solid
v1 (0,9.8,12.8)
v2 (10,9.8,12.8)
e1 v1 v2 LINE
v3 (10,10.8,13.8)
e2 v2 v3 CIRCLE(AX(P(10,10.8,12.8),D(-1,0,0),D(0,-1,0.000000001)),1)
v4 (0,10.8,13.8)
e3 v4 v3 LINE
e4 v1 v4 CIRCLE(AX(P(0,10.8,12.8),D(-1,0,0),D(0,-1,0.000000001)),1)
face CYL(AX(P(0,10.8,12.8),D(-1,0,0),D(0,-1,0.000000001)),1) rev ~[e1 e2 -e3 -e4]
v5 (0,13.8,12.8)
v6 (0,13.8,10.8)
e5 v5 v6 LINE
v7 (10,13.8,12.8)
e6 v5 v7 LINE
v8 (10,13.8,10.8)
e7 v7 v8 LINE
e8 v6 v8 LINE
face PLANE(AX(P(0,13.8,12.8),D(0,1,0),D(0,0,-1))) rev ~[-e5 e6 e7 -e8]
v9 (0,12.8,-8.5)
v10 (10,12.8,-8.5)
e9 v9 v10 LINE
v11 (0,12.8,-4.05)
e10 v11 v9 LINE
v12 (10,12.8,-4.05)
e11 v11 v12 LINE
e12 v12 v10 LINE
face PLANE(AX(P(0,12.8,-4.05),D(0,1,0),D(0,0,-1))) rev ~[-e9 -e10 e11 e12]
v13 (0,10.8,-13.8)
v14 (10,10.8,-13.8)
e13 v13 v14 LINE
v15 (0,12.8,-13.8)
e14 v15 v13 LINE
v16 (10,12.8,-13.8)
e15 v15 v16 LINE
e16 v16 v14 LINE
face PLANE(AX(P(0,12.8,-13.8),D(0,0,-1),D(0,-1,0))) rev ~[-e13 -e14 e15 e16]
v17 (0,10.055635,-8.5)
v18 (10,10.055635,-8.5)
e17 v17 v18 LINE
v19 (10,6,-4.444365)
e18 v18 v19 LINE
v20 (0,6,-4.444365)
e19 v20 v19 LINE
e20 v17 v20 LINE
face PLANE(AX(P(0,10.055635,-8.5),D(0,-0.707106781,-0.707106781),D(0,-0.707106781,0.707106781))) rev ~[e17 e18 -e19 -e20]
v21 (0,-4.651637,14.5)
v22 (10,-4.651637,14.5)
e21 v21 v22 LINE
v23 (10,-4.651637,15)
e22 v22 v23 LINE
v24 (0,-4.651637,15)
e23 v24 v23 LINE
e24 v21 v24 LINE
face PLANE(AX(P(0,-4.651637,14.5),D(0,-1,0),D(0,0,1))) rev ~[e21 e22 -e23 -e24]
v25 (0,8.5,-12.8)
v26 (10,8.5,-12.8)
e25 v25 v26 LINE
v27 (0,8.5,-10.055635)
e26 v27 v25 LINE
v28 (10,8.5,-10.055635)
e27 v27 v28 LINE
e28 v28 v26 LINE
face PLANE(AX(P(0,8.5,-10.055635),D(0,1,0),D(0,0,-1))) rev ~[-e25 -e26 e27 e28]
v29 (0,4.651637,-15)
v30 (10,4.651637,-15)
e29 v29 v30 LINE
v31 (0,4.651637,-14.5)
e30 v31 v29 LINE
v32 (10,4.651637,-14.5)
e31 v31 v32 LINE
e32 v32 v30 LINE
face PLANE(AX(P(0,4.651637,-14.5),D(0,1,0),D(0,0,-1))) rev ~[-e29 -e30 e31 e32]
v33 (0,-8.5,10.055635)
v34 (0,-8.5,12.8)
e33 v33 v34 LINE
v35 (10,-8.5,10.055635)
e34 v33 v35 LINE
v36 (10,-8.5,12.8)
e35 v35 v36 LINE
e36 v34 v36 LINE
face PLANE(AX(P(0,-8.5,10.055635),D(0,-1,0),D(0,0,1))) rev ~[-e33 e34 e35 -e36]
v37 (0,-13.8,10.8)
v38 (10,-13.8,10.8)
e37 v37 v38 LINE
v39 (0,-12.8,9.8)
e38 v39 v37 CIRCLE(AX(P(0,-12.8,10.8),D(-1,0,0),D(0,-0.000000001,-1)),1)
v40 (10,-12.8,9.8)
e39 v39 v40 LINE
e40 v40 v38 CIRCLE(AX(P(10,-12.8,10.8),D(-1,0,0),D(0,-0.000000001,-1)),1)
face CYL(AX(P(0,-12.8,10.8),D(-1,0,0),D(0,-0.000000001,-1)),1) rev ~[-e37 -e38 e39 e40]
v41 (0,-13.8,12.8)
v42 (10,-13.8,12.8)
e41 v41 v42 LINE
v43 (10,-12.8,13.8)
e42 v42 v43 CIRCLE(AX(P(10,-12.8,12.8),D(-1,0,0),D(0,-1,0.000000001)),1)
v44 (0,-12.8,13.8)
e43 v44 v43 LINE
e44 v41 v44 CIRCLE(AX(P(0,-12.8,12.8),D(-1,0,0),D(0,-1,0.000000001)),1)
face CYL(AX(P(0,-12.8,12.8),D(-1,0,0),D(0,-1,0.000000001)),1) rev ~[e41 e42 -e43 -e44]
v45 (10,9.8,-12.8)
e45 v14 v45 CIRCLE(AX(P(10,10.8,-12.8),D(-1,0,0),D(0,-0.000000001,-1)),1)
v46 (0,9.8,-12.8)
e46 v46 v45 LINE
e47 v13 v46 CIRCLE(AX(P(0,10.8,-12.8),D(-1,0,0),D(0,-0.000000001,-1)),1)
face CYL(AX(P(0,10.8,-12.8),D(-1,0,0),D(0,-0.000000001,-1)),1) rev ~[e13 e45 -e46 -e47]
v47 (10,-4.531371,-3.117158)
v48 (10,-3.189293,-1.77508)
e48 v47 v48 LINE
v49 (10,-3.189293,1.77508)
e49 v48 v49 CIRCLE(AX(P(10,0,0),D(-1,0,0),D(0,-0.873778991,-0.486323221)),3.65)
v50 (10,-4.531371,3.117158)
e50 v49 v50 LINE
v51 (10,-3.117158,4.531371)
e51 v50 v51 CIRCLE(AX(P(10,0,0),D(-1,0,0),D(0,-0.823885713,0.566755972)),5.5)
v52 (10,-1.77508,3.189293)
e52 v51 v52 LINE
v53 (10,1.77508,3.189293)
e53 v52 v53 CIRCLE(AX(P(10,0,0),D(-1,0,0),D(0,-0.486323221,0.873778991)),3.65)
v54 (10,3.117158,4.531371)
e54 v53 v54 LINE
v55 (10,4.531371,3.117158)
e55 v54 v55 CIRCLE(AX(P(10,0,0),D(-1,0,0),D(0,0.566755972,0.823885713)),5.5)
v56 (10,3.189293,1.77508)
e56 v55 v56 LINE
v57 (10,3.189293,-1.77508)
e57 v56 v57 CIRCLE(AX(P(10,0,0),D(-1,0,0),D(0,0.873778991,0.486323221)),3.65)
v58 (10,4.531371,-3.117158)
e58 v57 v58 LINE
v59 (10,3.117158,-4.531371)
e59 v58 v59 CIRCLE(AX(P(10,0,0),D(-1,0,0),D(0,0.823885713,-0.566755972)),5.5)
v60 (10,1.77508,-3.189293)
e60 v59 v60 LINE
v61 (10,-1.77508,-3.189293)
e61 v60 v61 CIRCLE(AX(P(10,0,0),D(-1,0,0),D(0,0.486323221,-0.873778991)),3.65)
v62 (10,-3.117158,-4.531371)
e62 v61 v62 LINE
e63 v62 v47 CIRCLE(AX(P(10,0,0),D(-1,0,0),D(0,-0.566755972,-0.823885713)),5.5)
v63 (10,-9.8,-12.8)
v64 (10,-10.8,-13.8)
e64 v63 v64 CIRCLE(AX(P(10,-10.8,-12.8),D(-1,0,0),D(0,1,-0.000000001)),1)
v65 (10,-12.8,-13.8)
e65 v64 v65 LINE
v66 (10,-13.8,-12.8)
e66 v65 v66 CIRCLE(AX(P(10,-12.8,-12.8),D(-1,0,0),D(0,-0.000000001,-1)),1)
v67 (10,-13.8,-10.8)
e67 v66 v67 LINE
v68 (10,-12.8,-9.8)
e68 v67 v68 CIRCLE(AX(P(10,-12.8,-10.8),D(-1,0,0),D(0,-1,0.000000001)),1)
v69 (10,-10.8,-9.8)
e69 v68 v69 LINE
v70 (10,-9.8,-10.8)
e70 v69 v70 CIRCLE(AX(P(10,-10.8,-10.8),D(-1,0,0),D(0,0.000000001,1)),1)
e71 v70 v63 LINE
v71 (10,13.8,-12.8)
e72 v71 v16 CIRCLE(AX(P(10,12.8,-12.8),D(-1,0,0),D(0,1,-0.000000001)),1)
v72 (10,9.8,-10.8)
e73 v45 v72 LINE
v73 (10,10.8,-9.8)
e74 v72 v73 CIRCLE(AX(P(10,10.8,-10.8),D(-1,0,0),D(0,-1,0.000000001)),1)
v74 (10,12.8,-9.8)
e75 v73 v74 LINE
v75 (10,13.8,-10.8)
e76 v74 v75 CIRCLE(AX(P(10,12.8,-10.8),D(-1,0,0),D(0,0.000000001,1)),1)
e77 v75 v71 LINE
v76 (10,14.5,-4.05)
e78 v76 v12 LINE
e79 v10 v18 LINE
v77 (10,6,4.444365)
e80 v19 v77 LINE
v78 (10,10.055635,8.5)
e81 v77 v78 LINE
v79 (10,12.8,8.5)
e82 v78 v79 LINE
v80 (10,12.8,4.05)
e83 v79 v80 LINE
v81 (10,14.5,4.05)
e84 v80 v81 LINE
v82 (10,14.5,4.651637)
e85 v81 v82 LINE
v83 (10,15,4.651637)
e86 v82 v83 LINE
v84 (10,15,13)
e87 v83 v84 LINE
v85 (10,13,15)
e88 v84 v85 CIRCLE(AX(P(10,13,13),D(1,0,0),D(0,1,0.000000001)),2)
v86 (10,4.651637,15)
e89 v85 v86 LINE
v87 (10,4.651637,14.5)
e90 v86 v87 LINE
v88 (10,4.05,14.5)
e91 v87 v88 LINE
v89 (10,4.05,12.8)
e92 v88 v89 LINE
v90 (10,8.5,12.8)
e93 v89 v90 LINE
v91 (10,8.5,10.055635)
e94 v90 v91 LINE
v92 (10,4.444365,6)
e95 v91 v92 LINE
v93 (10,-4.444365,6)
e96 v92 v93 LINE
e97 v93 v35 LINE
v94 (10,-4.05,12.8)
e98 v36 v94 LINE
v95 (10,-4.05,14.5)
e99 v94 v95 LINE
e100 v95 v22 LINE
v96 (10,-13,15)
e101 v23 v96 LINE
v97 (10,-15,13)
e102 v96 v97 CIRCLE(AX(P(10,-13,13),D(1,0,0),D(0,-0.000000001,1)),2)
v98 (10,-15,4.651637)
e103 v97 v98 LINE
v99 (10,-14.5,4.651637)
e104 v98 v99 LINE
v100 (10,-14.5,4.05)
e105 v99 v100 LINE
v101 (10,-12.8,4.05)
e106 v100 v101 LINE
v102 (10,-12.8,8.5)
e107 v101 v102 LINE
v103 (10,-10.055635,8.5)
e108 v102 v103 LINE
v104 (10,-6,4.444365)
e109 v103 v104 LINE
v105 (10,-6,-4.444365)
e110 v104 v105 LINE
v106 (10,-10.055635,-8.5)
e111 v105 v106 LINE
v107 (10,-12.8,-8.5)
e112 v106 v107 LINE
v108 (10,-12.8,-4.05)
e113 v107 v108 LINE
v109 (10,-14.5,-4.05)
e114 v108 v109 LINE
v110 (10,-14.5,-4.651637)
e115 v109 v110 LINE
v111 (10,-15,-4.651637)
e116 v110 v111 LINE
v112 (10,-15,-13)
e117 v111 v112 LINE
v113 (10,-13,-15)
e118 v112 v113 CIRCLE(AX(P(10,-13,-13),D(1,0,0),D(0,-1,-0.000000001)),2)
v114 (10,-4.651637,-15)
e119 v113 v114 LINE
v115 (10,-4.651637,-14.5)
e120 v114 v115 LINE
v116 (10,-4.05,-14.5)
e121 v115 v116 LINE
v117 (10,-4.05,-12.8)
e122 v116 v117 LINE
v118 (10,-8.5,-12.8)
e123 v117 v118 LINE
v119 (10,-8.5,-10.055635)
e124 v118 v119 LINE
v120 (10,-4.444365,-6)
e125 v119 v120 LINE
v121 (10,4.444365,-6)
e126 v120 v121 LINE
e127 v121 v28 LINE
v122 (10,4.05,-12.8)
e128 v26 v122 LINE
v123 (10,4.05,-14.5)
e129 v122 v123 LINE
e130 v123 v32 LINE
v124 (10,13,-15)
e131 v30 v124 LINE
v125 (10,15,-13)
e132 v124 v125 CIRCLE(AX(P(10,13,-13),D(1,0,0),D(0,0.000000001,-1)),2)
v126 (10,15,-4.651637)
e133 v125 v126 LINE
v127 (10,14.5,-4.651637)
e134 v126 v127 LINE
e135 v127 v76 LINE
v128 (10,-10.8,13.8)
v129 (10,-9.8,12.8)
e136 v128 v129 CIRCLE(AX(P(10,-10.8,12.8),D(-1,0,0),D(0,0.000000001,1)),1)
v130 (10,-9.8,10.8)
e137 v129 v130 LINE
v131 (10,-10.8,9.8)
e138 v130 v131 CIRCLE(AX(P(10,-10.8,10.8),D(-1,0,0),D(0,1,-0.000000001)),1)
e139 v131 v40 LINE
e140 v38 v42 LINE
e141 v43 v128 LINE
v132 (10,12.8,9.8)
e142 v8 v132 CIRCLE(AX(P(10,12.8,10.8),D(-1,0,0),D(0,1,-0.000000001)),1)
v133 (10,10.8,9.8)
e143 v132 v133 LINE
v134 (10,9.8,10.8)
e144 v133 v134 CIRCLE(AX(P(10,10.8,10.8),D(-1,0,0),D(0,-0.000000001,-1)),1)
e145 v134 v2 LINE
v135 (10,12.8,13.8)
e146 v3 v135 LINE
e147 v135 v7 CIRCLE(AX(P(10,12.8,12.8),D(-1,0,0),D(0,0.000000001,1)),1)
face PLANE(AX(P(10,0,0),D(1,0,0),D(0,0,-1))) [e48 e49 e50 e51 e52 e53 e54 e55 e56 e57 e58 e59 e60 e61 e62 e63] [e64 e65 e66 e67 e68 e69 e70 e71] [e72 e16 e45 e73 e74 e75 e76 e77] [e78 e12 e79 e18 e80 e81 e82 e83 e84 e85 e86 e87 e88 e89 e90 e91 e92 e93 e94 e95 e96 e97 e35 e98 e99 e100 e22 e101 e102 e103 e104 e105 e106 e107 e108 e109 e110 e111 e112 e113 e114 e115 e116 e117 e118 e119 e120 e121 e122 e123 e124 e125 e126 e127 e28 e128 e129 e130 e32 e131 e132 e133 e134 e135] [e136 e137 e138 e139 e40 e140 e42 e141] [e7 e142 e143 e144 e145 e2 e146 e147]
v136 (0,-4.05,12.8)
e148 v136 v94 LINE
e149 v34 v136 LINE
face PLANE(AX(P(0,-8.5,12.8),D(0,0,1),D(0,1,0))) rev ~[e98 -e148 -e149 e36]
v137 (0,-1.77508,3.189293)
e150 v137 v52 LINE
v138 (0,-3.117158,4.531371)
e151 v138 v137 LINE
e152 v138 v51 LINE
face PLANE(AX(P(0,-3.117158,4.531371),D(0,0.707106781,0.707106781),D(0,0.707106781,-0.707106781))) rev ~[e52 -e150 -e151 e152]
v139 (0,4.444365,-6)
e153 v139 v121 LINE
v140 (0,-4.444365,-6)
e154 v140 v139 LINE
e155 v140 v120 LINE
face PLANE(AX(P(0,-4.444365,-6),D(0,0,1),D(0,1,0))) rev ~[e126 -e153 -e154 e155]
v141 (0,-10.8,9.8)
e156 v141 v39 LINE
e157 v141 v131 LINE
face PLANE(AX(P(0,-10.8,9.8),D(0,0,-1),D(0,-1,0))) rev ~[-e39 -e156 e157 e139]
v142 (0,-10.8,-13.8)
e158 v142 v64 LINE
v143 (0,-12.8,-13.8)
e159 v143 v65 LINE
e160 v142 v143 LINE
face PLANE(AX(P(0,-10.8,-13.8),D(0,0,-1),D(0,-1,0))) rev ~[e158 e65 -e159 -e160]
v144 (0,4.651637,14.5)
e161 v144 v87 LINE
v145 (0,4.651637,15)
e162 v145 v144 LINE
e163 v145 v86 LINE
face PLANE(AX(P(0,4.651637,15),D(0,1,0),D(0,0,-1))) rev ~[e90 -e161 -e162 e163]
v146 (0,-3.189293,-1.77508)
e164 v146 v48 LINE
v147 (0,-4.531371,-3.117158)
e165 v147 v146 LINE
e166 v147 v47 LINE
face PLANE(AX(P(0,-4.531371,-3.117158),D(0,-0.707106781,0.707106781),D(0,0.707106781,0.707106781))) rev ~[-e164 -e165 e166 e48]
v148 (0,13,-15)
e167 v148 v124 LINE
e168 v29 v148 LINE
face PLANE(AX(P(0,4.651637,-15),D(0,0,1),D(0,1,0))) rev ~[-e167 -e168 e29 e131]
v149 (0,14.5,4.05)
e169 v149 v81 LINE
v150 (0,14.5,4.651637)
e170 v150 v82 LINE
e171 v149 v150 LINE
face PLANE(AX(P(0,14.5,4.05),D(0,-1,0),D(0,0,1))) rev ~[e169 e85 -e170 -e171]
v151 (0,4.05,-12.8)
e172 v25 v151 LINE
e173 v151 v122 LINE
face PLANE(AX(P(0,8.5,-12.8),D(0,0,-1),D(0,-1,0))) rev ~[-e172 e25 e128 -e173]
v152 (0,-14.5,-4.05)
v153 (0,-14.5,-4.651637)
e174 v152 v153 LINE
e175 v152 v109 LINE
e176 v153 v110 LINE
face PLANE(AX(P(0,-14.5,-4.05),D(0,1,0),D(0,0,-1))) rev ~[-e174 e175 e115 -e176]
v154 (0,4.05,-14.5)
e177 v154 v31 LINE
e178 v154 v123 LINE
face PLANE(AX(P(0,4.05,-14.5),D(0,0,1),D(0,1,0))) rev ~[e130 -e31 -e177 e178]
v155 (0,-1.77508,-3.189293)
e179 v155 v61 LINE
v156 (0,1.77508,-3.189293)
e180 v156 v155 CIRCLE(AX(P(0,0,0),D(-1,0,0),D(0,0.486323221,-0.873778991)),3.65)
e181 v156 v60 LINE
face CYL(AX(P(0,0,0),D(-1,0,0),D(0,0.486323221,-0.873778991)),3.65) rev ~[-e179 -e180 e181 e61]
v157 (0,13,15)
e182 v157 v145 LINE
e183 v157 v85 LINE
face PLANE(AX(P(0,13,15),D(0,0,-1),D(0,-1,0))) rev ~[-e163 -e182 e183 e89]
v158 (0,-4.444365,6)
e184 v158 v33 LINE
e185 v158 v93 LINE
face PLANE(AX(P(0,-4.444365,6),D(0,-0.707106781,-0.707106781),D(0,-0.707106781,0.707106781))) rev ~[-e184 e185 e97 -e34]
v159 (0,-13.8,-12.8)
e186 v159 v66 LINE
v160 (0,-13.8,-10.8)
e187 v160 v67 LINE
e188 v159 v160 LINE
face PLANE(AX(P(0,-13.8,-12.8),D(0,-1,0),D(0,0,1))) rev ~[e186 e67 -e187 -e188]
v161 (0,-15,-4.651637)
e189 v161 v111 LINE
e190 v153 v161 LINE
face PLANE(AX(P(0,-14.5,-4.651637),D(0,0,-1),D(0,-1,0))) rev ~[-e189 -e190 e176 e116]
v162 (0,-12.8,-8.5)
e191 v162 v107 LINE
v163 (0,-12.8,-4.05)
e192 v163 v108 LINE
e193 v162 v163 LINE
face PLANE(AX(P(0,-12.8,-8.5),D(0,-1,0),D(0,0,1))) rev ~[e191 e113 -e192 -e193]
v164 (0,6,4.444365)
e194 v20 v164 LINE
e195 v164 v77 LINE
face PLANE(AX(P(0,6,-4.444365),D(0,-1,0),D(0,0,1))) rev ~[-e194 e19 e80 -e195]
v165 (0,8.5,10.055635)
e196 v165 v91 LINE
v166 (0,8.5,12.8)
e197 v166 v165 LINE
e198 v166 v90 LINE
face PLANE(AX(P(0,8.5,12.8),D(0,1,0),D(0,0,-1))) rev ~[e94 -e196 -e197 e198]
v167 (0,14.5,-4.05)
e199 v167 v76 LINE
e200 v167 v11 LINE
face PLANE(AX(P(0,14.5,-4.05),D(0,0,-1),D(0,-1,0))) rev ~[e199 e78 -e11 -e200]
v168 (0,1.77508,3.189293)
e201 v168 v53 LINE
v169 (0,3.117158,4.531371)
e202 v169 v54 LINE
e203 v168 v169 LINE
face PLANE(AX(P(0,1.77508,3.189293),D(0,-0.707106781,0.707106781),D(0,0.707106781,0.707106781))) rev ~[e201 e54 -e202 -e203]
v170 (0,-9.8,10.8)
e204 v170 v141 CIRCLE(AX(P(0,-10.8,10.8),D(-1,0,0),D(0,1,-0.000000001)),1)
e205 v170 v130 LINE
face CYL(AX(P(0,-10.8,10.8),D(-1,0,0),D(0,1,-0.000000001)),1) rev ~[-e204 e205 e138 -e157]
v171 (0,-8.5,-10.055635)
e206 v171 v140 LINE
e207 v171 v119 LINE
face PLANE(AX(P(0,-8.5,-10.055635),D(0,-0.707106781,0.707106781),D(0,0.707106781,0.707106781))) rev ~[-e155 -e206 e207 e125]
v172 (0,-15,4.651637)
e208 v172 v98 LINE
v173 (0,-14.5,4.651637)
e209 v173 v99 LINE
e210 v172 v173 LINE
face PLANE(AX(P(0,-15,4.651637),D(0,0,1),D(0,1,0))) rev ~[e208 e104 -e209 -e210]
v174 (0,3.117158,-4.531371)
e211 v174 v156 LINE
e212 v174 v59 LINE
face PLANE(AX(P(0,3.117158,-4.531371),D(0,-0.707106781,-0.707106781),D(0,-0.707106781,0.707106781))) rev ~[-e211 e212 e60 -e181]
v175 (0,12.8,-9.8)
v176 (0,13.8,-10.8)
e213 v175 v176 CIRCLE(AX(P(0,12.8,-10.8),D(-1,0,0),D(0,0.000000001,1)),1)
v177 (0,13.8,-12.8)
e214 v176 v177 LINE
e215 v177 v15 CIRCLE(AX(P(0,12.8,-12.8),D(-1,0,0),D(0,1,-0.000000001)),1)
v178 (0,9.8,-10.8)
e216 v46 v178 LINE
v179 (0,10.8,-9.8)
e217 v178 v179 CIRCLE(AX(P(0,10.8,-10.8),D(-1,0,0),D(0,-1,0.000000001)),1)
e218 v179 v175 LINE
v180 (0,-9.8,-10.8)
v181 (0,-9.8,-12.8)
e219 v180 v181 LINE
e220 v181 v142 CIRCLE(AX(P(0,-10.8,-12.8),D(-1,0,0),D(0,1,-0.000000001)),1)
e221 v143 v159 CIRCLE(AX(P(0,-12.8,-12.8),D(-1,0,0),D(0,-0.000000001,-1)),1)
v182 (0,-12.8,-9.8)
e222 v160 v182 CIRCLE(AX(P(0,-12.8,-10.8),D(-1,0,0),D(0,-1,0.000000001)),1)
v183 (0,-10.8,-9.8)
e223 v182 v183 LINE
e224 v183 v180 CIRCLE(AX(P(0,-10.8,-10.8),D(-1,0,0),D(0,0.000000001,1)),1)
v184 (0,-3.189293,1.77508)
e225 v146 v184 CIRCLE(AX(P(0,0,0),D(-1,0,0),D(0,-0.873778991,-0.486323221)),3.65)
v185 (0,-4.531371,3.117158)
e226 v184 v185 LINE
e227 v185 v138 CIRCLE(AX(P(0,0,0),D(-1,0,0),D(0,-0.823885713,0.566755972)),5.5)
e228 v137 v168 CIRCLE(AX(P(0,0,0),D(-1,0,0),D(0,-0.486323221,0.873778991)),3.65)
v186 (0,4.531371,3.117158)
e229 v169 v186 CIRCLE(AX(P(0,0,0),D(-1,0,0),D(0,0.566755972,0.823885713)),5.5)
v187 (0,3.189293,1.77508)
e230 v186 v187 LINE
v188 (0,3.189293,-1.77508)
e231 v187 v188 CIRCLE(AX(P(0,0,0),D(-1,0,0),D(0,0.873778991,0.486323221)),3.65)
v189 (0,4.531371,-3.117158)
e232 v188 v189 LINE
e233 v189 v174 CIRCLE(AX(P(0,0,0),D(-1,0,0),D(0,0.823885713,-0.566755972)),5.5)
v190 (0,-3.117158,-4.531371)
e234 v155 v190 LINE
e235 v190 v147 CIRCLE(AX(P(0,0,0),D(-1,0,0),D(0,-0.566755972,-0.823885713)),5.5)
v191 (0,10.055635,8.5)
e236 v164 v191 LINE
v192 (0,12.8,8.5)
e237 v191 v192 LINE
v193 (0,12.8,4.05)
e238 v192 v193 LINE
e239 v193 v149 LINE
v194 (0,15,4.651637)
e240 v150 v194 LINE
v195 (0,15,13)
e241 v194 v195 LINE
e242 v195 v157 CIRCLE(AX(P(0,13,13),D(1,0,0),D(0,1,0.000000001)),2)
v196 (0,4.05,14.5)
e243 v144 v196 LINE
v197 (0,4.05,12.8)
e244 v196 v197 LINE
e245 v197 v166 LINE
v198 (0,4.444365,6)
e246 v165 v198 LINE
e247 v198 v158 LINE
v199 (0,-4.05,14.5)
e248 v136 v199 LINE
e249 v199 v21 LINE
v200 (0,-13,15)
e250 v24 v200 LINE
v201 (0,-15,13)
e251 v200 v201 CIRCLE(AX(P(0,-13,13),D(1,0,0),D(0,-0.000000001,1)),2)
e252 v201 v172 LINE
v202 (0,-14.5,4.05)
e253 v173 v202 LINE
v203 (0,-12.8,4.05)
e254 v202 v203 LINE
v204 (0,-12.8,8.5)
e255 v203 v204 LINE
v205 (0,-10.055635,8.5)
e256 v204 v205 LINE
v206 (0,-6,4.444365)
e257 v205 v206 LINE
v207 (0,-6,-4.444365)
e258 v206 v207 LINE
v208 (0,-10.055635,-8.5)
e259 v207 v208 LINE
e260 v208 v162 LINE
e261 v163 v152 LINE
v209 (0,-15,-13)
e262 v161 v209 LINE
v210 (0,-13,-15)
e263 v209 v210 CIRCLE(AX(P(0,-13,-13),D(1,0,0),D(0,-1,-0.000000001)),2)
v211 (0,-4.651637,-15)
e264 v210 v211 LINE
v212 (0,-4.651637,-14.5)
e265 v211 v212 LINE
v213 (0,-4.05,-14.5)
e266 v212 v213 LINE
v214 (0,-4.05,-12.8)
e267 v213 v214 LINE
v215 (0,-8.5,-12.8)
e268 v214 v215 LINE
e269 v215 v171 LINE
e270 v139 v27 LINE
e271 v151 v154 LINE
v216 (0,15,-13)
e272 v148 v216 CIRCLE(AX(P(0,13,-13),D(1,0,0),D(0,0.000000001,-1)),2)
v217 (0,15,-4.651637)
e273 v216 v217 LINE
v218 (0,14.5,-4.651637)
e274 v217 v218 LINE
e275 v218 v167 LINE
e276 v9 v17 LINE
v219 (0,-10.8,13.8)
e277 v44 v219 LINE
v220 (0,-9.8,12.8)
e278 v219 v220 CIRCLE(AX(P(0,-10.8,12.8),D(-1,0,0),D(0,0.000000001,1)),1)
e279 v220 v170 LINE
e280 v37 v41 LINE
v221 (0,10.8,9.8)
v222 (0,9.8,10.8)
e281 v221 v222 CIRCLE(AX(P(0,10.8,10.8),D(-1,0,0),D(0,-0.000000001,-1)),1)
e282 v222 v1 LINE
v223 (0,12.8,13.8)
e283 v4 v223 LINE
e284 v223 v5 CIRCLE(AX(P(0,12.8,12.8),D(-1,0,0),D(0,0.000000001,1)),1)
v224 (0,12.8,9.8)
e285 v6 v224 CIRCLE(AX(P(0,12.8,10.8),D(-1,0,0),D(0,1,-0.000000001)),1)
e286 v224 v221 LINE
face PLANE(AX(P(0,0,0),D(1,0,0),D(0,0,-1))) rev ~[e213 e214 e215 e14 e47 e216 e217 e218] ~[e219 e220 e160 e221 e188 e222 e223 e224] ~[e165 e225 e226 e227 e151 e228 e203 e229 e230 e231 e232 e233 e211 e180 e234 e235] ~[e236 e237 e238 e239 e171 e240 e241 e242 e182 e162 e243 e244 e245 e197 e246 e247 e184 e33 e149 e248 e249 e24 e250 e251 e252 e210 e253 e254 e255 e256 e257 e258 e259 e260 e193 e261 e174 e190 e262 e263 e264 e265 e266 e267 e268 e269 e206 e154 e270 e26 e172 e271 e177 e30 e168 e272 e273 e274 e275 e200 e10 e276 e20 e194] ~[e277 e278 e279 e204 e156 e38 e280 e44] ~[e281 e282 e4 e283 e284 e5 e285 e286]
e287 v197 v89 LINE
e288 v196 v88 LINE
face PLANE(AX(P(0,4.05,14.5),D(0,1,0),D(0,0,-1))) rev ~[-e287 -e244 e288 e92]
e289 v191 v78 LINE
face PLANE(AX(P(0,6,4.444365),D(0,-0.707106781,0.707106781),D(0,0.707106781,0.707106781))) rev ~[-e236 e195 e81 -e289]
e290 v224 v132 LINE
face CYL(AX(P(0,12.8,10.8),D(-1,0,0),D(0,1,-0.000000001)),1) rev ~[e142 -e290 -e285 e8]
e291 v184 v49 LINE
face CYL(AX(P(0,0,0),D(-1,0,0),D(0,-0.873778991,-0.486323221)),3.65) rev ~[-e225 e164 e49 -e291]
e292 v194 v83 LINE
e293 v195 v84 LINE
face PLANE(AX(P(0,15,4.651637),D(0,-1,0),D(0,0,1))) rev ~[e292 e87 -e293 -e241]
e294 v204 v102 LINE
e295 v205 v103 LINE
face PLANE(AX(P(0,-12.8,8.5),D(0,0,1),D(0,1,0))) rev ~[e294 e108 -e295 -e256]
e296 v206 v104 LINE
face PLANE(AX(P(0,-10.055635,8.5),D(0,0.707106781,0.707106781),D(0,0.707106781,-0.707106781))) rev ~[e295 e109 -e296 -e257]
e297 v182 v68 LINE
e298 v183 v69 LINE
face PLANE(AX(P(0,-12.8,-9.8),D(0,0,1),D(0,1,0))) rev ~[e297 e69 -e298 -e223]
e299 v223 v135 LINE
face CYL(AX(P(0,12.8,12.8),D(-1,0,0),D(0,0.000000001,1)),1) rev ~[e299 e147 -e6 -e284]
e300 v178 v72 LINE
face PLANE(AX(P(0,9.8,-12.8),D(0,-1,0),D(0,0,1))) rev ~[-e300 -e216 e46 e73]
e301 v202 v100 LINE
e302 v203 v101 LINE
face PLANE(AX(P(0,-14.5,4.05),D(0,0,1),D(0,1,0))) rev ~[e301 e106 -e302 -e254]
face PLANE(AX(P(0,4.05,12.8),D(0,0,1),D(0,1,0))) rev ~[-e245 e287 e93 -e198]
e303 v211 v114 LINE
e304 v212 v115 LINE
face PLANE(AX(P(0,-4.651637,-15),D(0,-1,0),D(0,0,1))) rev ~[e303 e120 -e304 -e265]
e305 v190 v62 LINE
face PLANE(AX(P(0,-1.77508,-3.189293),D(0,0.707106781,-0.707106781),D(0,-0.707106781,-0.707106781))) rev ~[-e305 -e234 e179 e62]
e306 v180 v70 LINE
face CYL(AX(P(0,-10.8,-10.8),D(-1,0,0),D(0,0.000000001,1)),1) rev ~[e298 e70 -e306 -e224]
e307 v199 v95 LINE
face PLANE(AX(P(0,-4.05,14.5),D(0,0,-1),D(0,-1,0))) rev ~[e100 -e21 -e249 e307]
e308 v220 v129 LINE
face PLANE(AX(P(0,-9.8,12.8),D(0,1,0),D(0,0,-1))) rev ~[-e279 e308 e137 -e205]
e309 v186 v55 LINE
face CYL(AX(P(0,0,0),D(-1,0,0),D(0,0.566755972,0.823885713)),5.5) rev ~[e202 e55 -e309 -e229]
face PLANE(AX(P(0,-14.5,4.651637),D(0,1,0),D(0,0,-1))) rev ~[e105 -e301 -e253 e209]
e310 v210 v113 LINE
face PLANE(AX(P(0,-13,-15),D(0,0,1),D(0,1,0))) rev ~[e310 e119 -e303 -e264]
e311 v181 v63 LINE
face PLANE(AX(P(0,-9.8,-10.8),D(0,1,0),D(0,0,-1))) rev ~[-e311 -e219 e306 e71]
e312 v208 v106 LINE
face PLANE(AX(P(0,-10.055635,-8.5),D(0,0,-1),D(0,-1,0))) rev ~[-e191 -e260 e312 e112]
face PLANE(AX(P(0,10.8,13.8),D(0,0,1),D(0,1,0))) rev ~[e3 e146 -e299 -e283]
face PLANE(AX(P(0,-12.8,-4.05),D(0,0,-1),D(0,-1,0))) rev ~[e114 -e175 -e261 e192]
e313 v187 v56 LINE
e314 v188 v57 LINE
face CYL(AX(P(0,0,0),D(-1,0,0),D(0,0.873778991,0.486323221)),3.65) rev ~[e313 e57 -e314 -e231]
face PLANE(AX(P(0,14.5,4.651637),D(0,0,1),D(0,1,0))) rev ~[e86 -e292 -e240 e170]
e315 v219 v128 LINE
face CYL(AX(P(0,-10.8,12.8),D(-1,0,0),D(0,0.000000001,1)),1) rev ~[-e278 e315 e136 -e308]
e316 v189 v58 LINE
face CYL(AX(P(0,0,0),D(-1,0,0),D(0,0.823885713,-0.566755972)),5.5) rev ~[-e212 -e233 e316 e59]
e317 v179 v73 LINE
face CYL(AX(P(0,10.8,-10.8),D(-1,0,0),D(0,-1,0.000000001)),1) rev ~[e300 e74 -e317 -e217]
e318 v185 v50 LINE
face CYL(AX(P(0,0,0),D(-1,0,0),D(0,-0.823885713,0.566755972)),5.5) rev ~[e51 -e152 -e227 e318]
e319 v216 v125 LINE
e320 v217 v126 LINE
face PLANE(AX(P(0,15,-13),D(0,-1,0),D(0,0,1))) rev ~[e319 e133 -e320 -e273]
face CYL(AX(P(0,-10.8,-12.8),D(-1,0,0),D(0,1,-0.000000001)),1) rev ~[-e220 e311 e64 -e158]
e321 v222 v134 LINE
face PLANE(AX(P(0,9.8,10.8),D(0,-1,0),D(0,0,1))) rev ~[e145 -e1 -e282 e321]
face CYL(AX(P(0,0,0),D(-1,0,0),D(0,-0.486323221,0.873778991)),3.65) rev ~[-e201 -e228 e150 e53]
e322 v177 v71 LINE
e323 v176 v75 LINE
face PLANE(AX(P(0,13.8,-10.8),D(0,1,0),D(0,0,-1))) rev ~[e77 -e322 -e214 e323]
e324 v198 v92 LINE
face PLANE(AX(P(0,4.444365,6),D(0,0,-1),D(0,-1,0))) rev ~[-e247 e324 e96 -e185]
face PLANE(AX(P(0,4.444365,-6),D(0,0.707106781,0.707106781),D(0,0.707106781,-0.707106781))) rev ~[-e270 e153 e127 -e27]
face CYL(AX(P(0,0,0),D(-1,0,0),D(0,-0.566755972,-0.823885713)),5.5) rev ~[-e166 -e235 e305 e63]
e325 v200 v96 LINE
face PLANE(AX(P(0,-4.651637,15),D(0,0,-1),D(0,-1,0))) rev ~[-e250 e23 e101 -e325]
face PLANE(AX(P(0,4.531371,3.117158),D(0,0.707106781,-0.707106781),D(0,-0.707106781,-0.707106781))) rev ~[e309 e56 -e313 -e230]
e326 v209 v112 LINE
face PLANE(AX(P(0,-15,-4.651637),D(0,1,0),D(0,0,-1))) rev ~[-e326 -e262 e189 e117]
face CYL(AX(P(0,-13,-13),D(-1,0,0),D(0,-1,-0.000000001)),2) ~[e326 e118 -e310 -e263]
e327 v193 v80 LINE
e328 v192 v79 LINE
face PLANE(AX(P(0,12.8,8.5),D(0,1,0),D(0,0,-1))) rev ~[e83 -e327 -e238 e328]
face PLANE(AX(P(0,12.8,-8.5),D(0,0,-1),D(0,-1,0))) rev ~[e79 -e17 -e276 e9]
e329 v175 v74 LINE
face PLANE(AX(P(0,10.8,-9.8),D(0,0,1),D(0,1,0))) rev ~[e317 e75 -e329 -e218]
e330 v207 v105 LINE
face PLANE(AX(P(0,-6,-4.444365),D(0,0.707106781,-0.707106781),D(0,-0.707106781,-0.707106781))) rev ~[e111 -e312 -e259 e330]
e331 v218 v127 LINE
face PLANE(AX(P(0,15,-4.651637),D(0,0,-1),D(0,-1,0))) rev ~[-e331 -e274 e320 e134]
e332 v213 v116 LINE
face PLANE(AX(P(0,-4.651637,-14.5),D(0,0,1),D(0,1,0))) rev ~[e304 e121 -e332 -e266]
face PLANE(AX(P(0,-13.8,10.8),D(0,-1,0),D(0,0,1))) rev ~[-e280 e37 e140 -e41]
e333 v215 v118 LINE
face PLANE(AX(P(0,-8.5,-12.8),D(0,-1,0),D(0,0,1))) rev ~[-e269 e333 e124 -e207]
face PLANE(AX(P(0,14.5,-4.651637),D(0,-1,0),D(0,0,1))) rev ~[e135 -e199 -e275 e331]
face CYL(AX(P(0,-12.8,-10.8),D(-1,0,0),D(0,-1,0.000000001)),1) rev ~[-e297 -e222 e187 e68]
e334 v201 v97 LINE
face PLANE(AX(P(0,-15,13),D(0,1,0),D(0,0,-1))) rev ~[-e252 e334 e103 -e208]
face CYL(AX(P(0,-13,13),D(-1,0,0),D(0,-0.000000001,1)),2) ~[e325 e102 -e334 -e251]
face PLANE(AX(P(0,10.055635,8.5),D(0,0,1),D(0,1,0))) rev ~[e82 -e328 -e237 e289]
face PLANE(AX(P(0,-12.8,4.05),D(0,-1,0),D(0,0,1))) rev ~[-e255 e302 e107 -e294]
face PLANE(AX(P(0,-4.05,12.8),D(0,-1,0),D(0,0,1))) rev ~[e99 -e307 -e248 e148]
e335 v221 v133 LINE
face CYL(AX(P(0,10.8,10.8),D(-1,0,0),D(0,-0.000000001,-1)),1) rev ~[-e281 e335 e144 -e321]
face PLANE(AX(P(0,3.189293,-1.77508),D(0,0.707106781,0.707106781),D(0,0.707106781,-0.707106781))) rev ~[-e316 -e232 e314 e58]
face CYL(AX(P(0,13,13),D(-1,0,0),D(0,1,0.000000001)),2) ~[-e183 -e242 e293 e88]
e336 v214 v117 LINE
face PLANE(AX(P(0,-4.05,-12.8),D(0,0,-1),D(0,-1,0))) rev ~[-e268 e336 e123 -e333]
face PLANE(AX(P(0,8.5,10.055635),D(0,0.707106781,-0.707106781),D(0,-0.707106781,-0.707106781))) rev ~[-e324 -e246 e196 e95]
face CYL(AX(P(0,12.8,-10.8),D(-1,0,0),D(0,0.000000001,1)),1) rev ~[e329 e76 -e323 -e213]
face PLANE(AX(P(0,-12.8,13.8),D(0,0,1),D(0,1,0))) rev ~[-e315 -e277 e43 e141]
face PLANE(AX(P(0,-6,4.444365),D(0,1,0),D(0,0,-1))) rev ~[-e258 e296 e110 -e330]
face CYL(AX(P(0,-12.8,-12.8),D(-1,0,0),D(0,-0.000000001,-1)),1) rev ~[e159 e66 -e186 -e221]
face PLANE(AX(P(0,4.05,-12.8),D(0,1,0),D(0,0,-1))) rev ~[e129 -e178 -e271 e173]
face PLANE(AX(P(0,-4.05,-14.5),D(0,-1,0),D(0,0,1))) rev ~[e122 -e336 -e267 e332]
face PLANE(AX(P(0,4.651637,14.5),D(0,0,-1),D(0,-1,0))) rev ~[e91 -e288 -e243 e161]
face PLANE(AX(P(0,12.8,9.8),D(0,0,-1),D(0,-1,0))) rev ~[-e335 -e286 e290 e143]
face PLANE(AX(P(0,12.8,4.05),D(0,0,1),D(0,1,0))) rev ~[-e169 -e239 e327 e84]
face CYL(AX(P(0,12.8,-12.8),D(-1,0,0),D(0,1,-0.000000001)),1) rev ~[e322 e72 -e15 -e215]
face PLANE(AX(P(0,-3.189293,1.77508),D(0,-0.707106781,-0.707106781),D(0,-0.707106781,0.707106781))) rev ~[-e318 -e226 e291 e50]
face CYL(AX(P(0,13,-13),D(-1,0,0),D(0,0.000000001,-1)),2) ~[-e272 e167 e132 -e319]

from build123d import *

# Parameters (mm, degrees)
AUFSATZ_LINEAR_AUSTRAGEN1_DEPTH = 10


with BuildPart() as part:
    # Skizze1 → Aufsatz-Linear austragen1 (new body)
    with BuildSketch(Plane(origin=(0, 0, 0), x_dir=(0, 0, -1), z_dir=(1, 0, 0))):
        with BuildLine():
            Line((10.055634919, 8.5), (12.8, 8.5))
            Line((12.8, 8.5), (12.8, 4.05))
            Line((12.8, 4.05), (14.5, 4.05))
            Line((14.5, 4.05), (14.5, 4.651637069))
            Line((14.5, 4.651637069), (15, 4.651637069))
            Line((15, 4.651637069), (15, 13))
            ThreePointArc((15, 13), (14.414213562, 14.414213562), (13, 15))
            Line((13, 15), (4.651637069, 15))
            Line((4.651637069, 15), (4.651637069, 14.5))
            Line((4.651637069, 14.5), (4.05, 14.5))
            Line((4.05, 14.5), (4.05, 12.8))
            Line((4.05, 12.8), (8.5, 12.8))
            Line((8.5, 12.8), (8.5, 10.055634919))
            Line((8.5, 10.055634919), (4.444365081, 6))
            Line((4.444365081, 6), (-4.444365081, 6))
            Line((-4.444365081, 6), (-8.5, 10.055634919))
            Line((-8.5, 10.055634919), (-8.5, 12.8))
            Line((-8.5, 12.8), (-4.05, 12.8))
            Line((-4.05, 12.8), (-4.05, 14.5))
            Line((-4.05, 14.5), (-4.651637069, 14.5))
            Line((-4.651637069, 14.5), (-4.651637069, 15))
            Line((-4.651637069, 15), (-13, 15))
            ThreePointArc((-13, 15), (-14.414213562, 14.414213562), (-15, 13))
            Line((-15, 13), (-15, 4.651637069))
            Line((-15, 4.651637069), (-14.5, 4.651637069))
            Line((-14.5, 4.651637069), (-14.5, 4.05))
            Line((-14.5, 4.05), (-12.8, 4.05))
            Line((-12.8, 4.05), (-12.8, 8.5))
            Line((-12.8, 8.5), (-10.055634919, 8.5))
            Line((-10.055634919, 8.5), (-6, 4.444365081))
            Line((-6, 4.444365081), (-6, -4.444365081))
            Line((-6, -4.444365081), (-10.055634919, -8.5))
            Line((-10.055634919, -8.5), (-12.8, -8.5))
            Line((-12.8, -8.5), (-12.8, -4.05))
            Line((-12.8, -4.05), (-14.5, -4.05))
            Line((-14.5, -4.05), (-14.5, -4.651637069))
            Line((-14.5, -4.651637069), (-15, -4.651637069))
            Line((-15, -4.651637069), (-15, -13))
            ThreePointArc((-15, -13), (-14.414213562, -14.414213562), (-13, -15))
            Line((-13, -15), (-4.651637069, -15))
            Line((-4.651637069, -15), (-4.651637069, -14.5))
            Line((-4.651637069, -14.5), (-4.05, -14.5))
            Line((-4.05, -14.5), (-4.05, -12.8))
            Line((-4.05, -12.8), (-8.5, -12.8))
            Line((-8.5, -12.8), (-8.5, -10.055634919))
            Line((-8.5, -10.055634919), (-4.444365081, -6))
            Line((-4.444365081, -6), (4.444365081, -6))
            Line((4.444365081, -6), (8.5, -10.055634919))
            Line((8.5, -10.055634919), (8.5, -12.8))
            Line((8.5, -12.8), (4.05, -12.8))
            Line((4.05, -12.8), (4.05, -14.5))
            Line((4.05, -14.5), (4.651637069, -14.5))
            Line((4.651637069, -14.5), (4.651637069, -15))
            Line((4.651637069, -15), (13, -15))
            ThreePointArc((13, -15), (14.414213562, -14.414213562), (15, -13))
            Line((15, -13), (15, -4.651637069))
            Line((15, -4.651637069), (14.5, -4.651637069))
            Line((14.5, -4.651637069), (14.5, -4.05))
            Line((14.5, -4.05), (12.8, -4.05))
            Line((12.8, -4.05), (12.8, -8.5))
            Line((12.8, -8.5), (10.055634919, -8.5))
            Line((10.055634919, -8.5), (6, -4.444365081))
            Line((6, -4.444365081), (6, 4.444365081))
            Line((6, 4.444365081), (10.055634919, 8.5))
        make_face()
        with BuildLine():
            ThreePointArc((12.8, 13.8), (13.507106781, 13.507106781), (13.8, 12.8))
            Line((13.8, 12.8), (13.8, 10.8))
            ThreePointArc((13.8, 10.8), (13.507106781, 10.092893219), (12.8, 9.8))
            Line((12.8, 9.8), (10.8, 9.8))
            ThreePointArc((10.8, 9.8), (10.092893219, 10.092893219), (9.8, 10.8))
            Line((9.8, 10.8), (9.8, 12.8))
            ThreePointArc((9.8, 12.8), (10.092893219, 13.507106781), (10.8, 13.8))
            Line((10.8, 13.8), (12.8, 13.8))
        make_face(mode=Mode.SUBTRACT)
        with BuildLine():
            Line((-3.117157854, 4.531371416), (-1.775079755, 3.189293317))
            ThreePointArc((-1.775079755, 3.189293317), (0, 3.65), (1.775079755, 3.189293317))
            Line((1.775079755, 3.189293317), (3.117157854, 4.531371416))
            ThreePointArc((3.117157854, 4.531371416), (3.889087297, 3.889087297), (4.531371416, 3.117157854))
            Line((4.531371416, 3.117157854), (3.189293317, 1.775079755))
            ThreePointArc((3.189293317, 1.775079755), (3.65, 0), (3.189293317, -1.775079755))
            Line((3.189293317, -1.775079755), (4.531371416, -3.117157854))
            ThreePointArc((4.531371416, -3.117157854), (3.889087297, -3.889087297), (3.117157854, -4.531371416))
            Line((3.117157854, -4.531371416), (1.775079755, -3.189293317))
            ThreePointArc((1.775079755, -3.189293317), (0, -3.65), (-1.775079755, -3.189293317))
            Line((-1.775079755, -3.189293317), (-3.117157854, -4.531371416))
            ThreePointArc((-3.117157854, -4.531371416), (-3.889087297, -3.889087297), (-4.531371416, -3.117157854))
            Line((-4.531371416, -3.117157854), (-3.189293317, -1.775079755))
            ThreePointArc((-3.189293317, -1.775079755), (-3.65, 0), (-3.189293317, 1.775079755))
            Line((-3.189293317, 1.775079755), (-4.531371416, 3.117157854))
            ThreePointArc((-4.531371416, 3.117157854), (-3.889087297, 3.889087297), (-3.117157854, 4.531371416))
        make_face(mode=Mode.SUBTRACT)
        with BuildLine():
            ThreePointArc((-13.8, 12.8), (-13.507106781, 13.507106781), (-12.8, 13.8))
            Line((-12.8, 13.8), (-10.8, 13.8))
            ThreePointArc((-10.8, 13.8), (-10.092893219, 13.507106781), (-9.8, 12.8))
            Line((-9.8, 12.8), (-9.8, 10.8))
            ThreePointArc((-9.8, 10.8), (-10.092893219, 10.092893219), (-10.8, 9.8))
            Line((-10.8, 9.8), (-12.8, 9.8))
            ThreePointArc((-12.8, 9.8), (-13.507106781, 10.092893219), (-13.8, 10.8))
            Line((-13.8, 10.8), (-13.8, 12.8))
        make_face(mode=Mode.SUBTRACT)
        with BuildLine():
            ThreePointArc((9.8, -10.8), (10.092893219, -10.092893219), (10.8, -9.8))
            Line((10.8, -9.8), (12.8, -9.8))
            ThreePointArc((12.8, -9.8), (13.507106781, -10.092893219), (13.8, -10.8))
            Line((13.8, -10.8), (13.8, -12.8))
            ThreePointArc((13.8, -12.8), (13.507106781, -13.507106781), (12.8, -13.8))
            Line((12.8, -13.8), (10.8, -13.8))
            ThreePointArc((10.8, -13.8), (10.092893219, -13.507106781), (9.8, -12.8))
            Line((9.8, -12.8), (9.8, -10.8))
        make_face(mode=Mode.SUBTRACT)
        with BuildLine():
            Line((-9.8, -10.8), (-9.8, -12.8))
            ThreePointArc((-9.8, -12.8), (-10.092893219, -13.507106781), (-10.8, -13.8))
            Line((-10.8, -13.8), (-12.8, -13.8))
            ThreePointArc((-12.8, -13.8), (-13.507106781, -13.507106781), (-13.8, -12.8))
            Line((-13.8, -12.8), (-13.8, -10.8))
            ThreePointArc((-13.8, -10.8), (-13.507106781, -10.092893219), (-12.8, -9.8))
            Line((-12.8, -9.8), (-10.8, -9.8))
            ThreePointArc((-10.8, -9.8), (-10.092893219, -10.092893219), (-9.8, -10.8))
        make_face(mode=Mode.SUBTRACT)
    extrude(amount=AUFSATZ_LINEAR_AUSTRAGEN1_DEPTH)


solid = part.part
